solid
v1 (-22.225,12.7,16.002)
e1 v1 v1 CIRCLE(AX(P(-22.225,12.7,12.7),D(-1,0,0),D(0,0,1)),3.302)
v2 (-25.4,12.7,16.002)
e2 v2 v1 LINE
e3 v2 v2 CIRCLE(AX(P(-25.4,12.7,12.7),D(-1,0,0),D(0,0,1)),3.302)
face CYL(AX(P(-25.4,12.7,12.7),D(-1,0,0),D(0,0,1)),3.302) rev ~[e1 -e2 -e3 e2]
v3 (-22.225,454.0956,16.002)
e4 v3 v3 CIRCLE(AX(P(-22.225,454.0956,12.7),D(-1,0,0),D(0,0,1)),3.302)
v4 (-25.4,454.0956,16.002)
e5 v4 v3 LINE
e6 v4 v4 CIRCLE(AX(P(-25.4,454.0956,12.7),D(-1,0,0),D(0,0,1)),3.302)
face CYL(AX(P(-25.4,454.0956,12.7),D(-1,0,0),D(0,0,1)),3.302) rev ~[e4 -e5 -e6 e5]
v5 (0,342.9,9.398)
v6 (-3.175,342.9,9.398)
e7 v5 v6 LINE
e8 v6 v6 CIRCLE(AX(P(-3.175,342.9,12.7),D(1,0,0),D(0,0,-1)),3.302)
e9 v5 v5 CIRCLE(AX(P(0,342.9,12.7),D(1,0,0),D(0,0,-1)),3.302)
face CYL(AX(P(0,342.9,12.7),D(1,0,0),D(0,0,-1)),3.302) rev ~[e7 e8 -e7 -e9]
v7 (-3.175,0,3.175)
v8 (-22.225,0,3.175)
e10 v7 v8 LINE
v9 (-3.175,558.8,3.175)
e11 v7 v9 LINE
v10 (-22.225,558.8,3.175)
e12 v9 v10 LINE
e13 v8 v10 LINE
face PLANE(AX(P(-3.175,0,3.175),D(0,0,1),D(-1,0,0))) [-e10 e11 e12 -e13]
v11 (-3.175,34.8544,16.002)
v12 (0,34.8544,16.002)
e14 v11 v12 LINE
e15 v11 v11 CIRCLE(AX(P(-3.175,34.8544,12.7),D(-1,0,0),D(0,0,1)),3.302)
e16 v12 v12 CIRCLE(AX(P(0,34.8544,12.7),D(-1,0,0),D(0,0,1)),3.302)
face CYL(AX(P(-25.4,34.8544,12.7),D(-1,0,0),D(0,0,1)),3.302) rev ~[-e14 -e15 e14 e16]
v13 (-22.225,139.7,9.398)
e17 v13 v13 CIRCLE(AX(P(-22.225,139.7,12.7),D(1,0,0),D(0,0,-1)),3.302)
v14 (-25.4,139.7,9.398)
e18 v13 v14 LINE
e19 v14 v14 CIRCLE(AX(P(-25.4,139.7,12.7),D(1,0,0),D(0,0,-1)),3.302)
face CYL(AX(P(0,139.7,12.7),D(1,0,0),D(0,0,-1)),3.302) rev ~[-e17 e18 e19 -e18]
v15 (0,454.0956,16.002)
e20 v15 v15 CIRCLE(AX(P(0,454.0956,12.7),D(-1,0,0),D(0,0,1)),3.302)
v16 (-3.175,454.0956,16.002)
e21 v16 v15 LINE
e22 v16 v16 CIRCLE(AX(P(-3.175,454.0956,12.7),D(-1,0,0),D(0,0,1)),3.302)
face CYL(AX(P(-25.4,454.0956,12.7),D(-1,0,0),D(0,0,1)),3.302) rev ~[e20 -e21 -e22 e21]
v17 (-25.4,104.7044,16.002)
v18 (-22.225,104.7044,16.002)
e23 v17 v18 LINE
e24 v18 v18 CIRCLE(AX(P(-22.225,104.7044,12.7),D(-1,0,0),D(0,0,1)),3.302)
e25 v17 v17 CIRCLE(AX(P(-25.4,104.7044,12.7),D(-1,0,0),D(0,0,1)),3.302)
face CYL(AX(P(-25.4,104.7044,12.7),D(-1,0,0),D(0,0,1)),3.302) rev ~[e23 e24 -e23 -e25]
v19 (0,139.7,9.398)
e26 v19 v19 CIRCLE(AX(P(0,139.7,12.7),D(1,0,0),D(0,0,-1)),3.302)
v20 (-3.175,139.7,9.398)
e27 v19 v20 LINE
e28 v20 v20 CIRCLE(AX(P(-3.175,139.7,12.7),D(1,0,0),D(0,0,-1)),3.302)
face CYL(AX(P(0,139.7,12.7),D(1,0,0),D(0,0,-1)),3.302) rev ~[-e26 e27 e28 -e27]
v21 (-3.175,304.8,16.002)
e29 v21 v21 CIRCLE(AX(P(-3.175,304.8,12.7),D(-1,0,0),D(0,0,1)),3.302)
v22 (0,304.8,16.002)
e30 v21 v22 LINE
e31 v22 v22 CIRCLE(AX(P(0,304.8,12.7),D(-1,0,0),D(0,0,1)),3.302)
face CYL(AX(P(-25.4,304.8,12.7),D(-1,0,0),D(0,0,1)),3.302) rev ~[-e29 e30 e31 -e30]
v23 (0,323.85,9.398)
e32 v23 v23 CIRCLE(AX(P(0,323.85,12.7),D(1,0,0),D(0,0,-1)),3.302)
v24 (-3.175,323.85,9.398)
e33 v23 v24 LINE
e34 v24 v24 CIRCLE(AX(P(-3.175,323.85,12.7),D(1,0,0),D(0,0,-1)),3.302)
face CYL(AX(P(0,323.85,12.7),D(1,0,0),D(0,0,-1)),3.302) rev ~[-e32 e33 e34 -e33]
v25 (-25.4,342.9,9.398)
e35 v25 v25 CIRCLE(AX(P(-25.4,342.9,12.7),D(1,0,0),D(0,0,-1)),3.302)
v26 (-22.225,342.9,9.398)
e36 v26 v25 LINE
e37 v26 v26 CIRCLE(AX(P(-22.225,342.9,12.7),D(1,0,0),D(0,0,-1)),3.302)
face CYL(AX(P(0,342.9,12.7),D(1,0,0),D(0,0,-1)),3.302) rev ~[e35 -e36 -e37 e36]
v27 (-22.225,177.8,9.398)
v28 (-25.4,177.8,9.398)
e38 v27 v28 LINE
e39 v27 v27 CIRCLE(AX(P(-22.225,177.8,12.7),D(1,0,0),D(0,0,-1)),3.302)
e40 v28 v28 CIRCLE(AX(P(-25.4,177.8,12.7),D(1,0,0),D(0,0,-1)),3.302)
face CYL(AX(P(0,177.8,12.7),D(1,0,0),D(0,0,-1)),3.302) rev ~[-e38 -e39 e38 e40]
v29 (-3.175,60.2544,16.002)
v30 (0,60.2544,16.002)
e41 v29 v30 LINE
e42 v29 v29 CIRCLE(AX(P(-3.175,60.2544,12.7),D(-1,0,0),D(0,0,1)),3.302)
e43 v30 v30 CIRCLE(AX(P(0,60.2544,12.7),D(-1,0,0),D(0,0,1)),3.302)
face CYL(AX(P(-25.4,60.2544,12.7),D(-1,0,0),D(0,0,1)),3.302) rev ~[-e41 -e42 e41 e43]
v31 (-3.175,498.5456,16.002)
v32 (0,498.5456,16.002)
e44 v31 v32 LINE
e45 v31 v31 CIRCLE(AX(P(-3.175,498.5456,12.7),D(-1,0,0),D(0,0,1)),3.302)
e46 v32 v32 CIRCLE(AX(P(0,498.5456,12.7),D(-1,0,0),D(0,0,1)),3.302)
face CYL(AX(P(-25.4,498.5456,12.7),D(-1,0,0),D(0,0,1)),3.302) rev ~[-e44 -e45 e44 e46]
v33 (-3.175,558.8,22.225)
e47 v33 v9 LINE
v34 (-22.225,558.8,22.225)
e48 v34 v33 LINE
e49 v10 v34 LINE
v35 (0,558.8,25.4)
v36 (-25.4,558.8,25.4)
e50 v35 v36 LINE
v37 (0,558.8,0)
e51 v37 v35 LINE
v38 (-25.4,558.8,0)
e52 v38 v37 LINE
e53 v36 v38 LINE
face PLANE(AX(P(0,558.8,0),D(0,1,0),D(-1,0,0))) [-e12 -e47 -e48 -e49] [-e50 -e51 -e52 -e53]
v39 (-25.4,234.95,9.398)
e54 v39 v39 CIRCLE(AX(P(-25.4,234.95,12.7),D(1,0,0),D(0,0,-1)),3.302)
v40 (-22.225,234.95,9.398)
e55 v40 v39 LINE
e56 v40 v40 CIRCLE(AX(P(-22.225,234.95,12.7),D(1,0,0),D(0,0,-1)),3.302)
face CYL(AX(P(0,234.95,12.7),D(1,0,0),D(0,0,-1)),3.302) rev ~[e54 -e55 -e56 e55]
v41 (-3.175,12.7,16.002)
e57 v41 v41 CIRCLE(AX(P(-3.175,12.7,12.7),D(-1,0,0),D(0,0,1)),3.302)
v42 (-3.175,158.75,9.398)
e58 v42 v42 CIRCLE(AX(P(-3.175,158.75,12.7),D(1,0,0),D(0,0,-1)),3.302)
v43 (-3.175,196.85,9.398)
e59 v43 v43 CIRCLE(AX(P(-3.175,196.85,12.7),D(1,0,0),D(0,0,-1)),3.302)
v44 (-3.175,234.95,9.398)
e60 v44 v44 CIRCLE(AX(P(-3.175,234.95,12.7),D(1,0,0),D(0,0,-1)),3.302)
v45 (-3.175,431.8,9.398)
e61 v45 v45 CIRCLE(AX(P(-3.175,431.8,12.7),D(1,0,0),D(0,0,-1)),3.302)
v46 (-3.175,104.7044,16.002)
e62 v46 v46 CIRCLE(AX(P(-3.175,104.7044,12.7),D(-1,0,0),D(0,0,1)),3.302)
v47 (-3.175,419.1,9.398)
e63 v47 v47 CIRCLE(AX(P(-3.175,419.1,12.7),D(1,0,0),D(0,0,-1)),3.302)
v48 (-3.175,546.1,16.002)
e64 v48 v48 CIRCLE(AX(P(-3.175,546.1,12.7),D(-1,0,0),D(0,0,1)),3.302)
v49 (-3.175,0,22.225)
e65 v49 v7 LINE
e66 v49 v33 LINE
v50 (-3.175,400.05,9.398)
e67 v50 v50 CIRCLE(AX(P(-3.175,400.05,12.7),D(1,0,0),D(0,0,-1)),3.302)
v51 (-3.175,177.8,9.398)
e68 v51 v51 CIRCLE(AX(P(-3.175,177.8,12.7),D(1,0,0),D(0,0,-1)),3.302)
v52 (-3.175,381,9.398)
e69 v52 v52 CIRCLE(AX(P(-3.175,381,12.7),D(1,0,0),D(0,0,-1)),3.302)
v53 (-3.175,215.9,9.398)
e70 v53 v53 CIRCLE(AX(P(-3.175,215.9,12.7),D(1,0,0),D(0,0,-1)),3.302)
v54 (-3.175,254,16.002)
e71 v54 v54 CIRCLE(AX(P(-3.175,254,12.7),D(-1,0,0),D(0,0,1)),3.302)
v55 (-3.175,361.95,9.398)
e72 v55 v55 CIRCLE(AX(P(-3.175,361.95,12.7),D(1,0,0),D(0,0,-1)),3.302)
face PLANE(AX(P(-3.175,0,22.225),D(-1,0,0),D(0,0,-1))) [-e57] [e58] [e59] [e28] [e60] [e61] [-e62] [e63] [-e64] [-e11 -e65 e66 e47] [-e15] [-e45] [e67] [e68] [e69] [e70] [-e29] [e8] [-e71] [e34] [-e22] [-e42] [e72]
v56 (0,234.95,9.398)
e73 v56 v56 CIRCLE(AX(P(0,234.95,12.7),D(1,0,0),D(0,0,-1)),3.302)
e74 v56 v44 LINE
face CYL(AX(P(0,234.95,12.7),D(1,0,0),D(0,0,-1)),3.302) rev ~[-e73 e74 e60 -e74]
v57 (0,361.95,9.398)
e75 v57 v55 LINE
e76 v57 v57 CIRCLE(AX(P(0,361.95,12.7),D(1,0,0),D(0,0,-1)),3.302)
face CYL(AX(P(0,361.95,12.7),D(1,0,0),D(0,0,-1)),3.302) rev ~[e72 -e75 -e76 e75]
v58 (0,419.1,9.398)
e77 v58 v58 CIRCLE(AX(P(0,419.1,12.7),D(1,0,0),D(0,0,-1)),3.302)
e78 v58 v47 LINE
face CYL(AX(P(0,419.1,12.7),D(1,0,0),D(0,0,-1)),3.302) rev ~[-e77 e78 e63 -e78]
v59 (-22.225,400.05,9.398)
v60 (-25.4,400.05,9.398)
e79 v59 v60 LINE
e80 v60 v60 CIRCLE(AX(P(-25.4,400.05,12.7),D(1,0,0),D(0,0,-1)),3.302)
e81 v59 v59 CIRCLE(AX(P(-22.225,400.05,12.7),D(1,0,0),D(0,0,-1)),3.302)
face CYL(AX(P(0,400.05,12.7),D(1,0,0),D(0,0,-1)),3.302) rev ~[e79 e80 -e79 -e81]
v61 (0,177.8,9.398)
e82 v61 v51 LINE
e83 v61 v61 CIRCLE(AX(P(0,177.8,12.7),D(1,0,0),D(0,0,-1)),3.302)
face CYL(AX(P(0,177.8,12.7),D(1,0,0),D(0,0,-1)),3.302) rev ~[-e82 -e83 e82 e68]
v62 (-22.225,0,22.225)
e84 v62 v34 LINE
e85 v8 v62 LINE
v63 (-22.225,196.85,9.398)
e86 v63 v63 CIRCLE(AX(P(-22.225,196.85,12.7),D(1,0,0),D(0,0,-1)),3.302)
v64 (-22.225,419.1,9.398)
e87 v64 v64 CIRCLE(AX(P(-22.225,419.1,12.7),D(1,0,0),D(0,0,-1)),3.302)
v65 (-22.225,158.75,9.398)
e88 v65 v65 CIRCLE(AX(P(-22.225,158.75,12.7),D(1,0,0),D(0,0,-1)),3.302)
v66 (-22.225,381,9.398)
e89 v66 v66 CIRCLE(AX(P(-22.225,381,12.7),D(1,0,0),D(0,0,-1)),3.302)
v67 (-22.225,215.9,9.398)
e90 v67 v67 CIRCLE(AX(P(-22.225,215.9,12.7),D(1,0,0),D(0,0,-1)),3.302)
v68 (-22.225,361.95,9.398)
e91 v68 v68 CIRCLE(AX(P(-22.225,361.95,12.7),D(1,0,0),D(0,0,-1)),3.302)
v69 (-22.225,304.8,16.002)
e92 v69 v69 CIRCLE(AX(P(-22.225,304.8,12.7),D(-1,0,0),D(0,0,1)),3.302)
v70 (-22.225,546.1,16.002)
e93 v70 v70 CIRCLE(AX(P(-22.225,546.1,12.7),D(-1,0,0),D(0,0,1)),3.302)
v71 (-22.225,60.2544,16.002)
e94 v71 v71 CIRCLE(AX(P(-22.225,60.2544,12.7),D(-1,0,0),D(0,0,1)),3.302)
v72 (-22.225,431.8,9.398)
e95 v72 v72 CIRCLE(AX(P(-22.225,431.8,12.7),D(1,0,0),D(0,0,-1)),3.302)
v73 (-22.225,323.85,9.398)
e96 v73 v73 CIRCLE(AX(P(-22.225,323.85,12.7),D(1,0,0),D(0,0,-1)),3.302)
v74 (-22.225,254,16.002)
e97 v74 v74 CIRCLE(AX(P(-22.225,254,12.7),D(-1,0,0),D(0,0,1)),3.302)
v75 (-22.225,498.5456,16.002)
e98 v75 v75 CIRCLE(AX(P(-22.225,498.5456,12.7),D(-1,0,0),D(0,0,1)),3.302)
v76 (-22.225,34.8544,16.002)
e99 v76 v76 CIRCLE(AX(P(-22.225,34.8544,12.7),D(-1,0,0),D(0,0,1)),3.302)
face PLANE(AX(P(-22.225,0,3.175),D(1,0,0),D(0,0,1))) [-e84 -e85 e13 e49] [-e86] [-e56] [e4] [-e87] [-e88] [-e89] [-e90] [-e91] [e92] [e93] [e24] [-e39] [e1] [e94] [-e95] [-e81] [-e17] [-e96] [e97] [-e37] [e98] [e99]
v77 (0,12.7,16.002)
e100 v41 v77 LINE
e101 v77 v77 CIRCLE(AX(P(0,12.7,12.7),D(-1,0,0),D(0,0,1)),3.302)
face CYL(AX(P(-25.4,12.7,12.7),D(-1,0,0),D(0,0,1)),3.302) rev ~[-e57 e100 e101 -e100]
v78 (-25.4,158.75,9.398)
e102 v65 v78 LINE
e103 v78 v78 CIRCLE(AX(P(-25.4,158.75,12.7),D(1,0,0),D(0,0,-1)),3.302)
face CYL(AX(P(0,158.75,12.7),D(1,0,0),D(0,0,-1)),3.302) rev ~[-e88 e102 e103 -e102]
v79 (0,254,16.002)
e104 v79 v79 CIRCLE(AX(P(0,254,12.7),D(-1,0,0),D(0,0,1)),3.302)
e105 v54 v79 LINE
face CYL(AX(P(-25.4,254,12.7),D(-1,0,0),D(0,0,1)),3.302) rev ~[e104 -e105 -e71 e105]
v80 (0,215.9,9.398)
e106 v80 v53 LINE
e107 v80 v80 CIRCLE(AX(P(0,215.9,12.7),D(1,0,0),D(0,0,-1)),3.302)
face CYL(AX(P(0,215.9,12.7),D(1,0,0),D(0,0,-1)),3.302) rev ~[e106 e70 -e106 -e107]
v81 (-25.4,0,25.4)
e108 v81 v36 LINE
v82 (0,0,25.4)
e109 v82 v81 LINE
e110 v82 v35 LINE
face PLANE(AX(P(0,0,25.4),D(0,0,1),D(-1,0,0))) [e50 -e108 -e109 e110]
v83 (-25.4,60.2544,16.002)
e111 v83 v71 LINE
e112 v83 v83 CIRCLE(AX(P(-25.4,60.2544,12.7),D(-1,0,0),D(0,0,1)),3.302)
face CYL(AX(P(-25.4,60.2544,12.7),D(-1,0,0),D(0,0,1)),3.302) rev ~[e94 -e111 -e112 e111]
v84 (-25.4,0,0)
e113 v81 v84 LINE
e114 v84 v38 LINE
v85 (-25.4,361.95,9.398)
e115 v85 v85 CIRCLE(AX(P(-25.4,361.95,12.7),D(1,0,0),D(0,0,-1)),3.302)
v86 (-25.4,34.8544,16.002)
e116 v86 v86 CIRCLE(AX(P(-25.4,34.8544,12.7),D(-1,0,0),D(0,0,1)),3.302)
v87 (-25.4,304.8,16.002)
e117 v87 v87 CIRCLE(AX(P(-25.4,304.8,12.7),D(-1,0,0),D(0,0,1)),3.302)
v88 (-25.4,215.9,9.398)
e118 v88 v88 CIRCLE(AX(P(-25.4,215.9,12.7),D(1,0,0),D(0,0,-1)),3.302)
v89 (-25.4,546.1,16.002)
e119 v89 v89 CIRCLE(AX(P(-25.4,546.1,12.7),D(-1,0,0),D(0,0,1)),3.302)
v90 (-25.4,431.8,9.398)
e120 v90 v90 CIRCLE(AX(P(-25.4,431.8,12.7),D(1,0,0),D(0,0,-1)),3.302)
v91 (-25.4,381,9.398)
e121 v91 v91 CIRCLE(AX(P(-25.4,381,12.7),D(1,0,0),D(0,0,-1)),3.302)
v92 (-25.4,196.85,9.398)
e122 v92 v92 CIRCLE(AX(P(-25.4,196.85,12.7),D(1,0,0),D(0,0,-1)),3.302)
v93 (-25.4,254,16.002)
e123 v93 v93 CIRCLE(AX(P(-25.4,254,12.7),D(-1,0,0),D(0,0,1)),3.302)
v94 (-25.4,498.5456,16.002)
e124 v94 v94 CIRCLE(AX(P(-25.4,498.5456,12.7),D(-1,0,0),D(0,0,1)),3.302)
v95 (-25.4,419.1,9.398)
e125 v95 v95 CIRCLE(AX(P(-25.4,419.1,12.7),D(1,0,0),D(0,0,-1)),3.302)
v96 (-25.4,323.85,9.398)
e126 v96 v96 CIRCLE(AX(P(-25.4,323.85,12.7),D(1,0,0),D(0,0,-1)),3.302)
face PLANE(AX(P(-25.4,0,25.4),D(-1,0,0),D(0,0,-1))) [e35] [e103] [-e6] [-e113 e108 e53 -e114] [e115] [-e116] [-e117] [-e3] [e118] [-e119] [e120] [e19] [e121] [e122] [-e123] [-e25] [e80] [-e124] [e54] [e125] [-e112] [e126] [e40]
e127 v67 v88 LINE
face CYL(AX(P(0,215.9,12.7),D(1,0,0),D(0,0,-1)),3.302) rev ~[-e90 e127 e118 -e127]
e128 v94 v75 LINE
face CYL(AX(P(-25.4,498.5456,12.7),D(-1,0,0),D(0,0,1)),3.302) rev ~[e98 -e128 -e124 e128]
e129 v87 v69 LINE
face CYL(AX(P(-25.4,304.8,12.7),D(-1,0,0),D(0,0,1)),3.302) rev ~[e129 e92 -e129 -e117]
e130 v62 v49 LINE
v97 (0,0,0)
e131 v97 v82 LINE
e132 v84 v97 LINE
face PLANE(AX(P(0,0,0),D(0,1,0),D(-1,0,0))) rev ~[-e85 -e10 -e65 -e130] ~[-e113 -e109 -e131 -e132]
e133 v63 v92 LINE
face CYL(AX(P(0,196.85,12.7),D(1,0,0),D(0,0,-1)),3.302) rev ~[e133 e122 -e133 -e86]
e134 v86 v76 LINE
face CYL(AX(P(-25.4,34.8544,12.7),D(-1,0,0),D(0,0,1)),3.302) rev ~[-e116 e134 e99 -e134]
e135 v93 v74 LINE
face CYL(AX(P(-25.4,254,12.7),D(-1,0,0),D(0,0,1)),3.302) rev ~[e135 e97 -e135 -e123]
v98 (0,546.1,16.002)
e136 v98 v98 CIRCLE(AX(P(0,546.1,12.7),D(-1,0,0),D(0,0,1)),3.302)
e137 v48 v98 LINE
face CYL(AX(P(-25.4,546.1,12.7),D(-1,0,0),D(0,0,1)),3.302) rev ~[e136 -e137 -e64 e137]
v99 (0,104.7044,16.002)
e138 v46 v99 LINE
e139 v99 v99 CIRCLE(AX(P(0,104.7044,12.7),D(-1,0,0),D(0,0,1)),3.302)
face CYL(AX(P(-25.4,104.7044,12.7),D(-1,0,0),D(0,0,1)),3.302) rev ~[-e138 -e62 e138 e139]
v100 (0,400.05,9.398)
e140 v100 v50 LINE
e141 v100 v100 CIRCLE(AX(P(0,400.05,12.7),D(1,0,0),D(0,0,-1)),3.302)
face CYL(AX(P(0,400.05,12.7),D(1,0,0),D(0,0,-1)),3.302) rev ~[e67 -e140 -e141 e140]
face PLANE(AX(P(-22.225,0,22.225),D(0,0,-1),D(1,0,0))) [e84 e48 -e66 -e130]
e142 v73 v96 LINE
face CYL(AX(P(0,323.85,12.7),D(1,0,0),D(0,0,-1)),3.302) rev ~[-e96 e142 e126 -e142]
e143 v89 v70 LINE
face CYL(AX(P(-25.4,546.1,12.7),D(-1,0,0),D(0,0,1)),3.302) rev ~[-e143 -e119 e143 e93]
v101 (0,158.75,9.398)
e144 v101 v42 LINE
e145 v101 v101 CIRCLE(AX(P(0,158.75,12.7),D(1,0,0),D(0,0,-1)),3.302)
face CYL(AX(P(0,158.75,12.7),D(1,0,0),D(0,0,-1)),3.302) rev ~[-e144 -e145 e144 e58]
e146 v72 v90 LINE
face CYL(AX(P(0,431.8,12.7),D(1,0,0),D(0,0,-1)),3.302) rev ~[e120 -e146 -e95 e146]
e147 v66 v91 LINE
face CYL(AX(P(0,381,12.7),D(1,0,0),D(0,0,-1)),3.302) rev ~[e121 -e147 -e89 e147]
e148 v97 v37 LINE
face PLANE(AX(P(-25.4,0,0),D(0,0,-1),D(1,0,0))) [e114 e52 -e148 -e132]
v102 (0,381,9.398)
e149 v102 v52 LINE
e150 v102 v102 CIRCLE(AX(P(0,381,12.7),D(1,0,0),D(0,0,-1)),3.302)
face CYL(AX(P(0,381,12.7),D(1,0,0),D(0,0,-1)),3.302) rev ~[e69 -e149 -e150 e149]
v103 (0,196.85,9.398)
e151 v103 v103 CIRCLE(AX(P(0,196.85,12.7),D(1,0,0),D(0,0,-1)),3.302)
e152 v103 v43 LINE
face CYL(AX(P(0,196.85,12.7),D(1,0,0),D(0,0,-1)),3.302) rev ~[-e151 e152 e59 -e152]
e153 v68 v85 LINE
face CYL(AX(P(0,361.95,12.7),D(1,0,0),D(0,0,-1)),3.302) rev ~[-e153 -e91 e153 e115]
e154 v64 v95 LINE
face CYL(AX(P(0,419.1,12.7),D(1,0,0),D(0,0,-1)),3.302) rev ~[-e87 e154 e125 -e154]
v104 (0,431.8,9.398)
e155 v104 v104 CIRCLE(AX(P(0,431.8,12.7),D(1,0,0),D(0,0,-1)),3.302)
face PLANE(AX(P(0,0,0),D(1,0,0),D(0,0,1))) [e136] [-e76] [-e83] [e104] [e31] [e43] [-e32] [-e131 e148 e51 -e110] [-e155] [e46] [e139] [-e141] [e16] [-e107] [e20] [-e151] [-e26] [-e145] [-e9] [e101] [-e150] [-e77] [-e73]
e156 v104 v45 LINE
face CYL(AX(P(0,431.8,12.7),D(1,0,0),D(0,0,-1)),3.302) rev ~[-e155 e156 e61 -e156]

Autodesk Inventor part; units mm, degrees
ref_plane "YZ Plane" through (0, 0, 0) normal (1, 0, 0) x (0, 1, 0)
ref_plane "XZ Plane" through (0, 0, 0) normal (0, 1, 0) x (-1, 0, 0)
ref_plane "XY Plane" through (0, 0, 0) normal (0, 0, 1) x (1, 0, 0)
sketch "Sketch1" plane through (0, 0, 0) normal (0, 1, 0) x (-1, 0, 0)
  line L0 (0, 25.4) -> (25.4, 25.4)
  line L1 (25.4, 25.4) -> (25.4, 0)
  line L2 (25.4, 0) -> (0, 0)
  line L3 (0, 0) -> (0, 25.4)
  line L4 (22.225, 22.225) -> (3.175, 22.225)
  line L5 (3.175, 22.225) -> (3.175, 3.175)
  line L6 (3.175, 3.175) -> (22.225, 3.175)
  line L7 (22.225, 3.175) -> (22.225, 22.225)
  dimension "d0" = 25.4
  dimension "d1" = 25.4
  dimension "d2" = 3.175
extrude "Extrusion1" add sketch "Sketch1" along normal blind 558.8
sketch "Sketch2" plane through (-25.4, 0, 25.4) normal (0, 0, 1) x (1, 0, 0)
  line L0 (25.4, 0) -> (0, 0) projected
  line L1 (0, 558.8) -> (25.4, 558.8) projected
  line L2 (12.7, 558.8) -> (12.7, 0) construction
  line L3 (12.7, 0) -> (12.7, 13.97) construction
  circle A0 centre (12.7, 13.97) radius 3.302
  circle A1 centre (12.7, 33.6315) radius 3.302
  circle A2 centre (12.7, 53.293) radius 3.302
  circle A3 centre (12.7, 72.9544) radius 3.302
  circle A4 centre (12.7, 92.6159) radius 3.302
  circle A5 centre (12.7, 112.2774) radius 3.302
  circle A6 centre (12.7, 131.9389) radius 3.302
  circle A7 centre (12.7, 151.6004) radius 3.302
  circle A8 centre (12.7, 171.2619) radius 3.302
  circle A9 centre (12.7, 190.9233) radius 3.302
  circle A10 centre (12.7, 210.5848) radius 3.302
  circle A11 centre (12.7, 230.2463) radius 3.302
  circle A12 centre (12.7, 249.9078) radius 3.302
  circle A13 centre (12.7, 269.5693) radius 3.302
  circle A14 centre (12.7, 289.2307) radius 3.302
  circle A15 centre (12.7, 308.8922) radius 3.302
  circle A16 centre (12.7, 328.5537) radius 3.302
  circle A17 centre (12.7, 348.2152) radius 3.302
  circle A18 centre (12.7, 367.8767) radius 3.302
  circle A19 centre (12.7, 387.5381) radius 3.302
  circle A20 centre (12.7, 407.1996) radius 3.302
  circle A21 centre (12.7, 426.8611) radius 3.302
  circle A22 centre (12.7, 446.5226) radius 3.302
  circle A23 centre (12.7, 466.1841) radius 3.302
  circle A24 centre (12.7, 485.8456) radius 3.302
  circle A25 centre (12.7, 505.507) radius 3.302
  circle A26 centre (12.7, 525.1685) radius 3.302
  circle A27 centre (12.7, 544.83) radius 3.302
  dimension "d5" = 13.97
  dimension "d6" = 6.604
  dimension "d7" = 558.8
  dimension "d10" = 19.6615
extrude "Extrusion2" [suppressed]
sketch "Sketch3" plane through (-25.4, 0, 0) normal (-1, 0, 0) x (0, 0, 1)
  line L0 (25.4, 0) -> (25.4, 558.8) projected
  line L1 (0, 0) -> (0, 558.8) projected
  line L2 (0, 210.5848) -> (25.4, 210.5848) construction
  line L3 (12.7, 498.5456) -> (12.7, 454.0956) construction
  line L4 (12.7, 373.6152) -> (12.7, 322.8152) construction
  line L5 (12.7, 232.8098) -> (12.7, 188.3598) construction
  line L6 (12.7, 104.7044) -> (12.7, 60.2544) construction
  circle A0 centre (12.7, 498.5456) radius 3.302
  circle A1 centre (12.7, 454.0956) radius 3.302
  circle A2 centre (12.7, 373.6152) radius 3.302
  circle A3 centre (12.7, 322.8152) radius 3.302
  circle A4 centre (12.7, 232.8098) radius 3.302
  circle A5 centre (12.7, 188.3598) radius 3.302 construction
  circle A6 centre (12.7, 104.7044) radius 3.302
  circle A7 centre (12.7, 60.2544) radius 3.302
  line L7 (0, 279.4) -> (25.4, 279.4) construction
  line L8 (12.7, 304.8) -> (12.7, 254) construction
  circle A8 centre (12.7, 304.8) radius 3.302
  circle A9 centre (12.7, 254) radius 3.302
  line L9 (25.4, 0) -> (0, 0) projected
  line L10 (0, 558.8) -> (25.4, 558.8) projected
  circle A10 centre (12.7, 546.1) radius 3.302
  line L11 (12.7, 546.1) -> (12.7, 558.8) construction
  line L12 (12.7, 0) -> (12.7, 12.7) construction
  circle A11 centre (12.7, 12.7) radius 3.302
  line L13 (0, 82.4794) -> (25.4, 82.4794) construction
  line L14 (0, 476.3206) -> (25.4, 476.3206) construction
  line L15 (12.7, 12.7) -> (12.7, 34.8544) construction
  circle A12 centre (12.7, 34.8544) radius 3.302
  line L16 (0, 13.97) -> (25.4, 13.97) construction
  line L17 (0, 33.6315) -> (25.4, 33.6315) construction
  line L18 (0, 53.293) -> (25.4, 53.293) construction
  line L19 (0, 72.9544) -> (25.4, 72.9544) construction
  line L20 (0, 92.6159) -> (25.4, 92.6159) construction
  line L21 (0, 112.2774) -> (25.4, 112.2774) construction
  line L22 (0, 131.9389) -> (25.4, 131.9389) construction
  line L23 (0, 151.6004) -> (25.4, 151.6004) construction
  line L24 (0, 171.2619) -> (25.4, 171.2619) construction
  line L25 (0, 190.9233) -> (25.4, 190.9233) construction
  line L26 (0, 210.5848) -> (25.4, 210.5848) construction
  line L27 (0, 230.2463) -> (25.4, 230.2463) construction
  line L28 (0, 249.9078) -> (25.4, 249.9078) construction
  line L29 (0, 269.5693) -> (25.4, 269.5693) construction
  line L30 (0, 289.2307) -> (25.4, 289.2307) construction
  line L31 (0, 308.8922) -> (25.4, 308.8922) construction
  line L32 (0, 328.5537) -> (25.4, 328.5537) construction
  line L33 (0, 348.2152) -> (25.4, 348.2152) construction
  line L34 (0, 367.8767) -> (25.4, 367.8767) construction
  line L35 (0, 387.5381) -> (25.4, 387.5381) construction
  line L36 (0, 407.1996) -> (25.4, 407.1996) construction
  line L37 (0, 426.8611) -> (25.4, 426.8611) construction
  line L38 (0, 446.5226) -> (25.4, 446.5226) construction
  line L39 (0, 466.1841) -> (25.4, 466.1841) construction
  line L40 (0, 485.8456) -> (25.4, 485.8456) construction
  line L41 (0, 505.507) -> (25.4, 505.507) construction
  line L42 (0, 525.1685) -> (25.4, 525.1685) construction
  line L43 (0, 544.83) -> (25.4, 544.83) construction
  point P0 (12.7, 279.4)
  point P1 (12.7, 82.4794)
  point P2 (12.7, 476.3206)
  point P3 (12.7, 348.2152)
  point P4 (12.7, 210.5848)
  dimension "d17" = 44.45
  dimension "d18" = 50.8
  dimension "d19" = 44.45
  dimension "d20" = 44.45
  dimension "d21" = 6.604
  dimension "d22" = 6.604
  dimension "d23" = 6.604
  dimension "d24" = 6.604
  dimension "d25" = 6.604
  dimension "d26" = 6.604
  dimension "d27" = 6.604
  dimension "d28" = 6.604
  dimension "d31" = 50.8
  dimension "d32" = 6.604
  dimension "d33" = 6.604
  dimension "d40" = 12.7
  dimension "d41" = 6.604
  dimension "d42" = 12.7
  dimension "d43" = 6.604
  dimension "d64" = 25.4
  dimension "d65" = 6.604
  dimension "d66" = 13.97
  dimension "d67" = 558.8
  dimension "d70" = 19.6615
  dimension "d76" = 9.525
  dimension "d77" = 9.525
extrude "Extrusion3" cut sketch "Sketch3" against normal through all contours A0 | A1 | A6 | A7 | A8 | A9 | A10 | A11 | A12
sketch "Sketch4" plane through (0, 0, 25.4) normal (1, 0, 0) x (0, 0, -1)
  circle A0 centre (12.7, 304.8) radius 3.302 construction
  circle A1 centre (12.7, 254) radius 3.302 construction
  line L0 (0, 0) -> (0, 558.8) projected
  line L1 (12.7, 304.8) -> (12.7, 323.85) construction
  line L2 (12.7, 254) -> (12.7, 234.95) construction
  circle A2 centre (12.7, 323.85) radius 3.302
  circle A3 centre (12.7, 234.95) radius 3.302
  line L3 (25.4, 0) -> (0, 0) projected
  line L4 (0, 558.8) -> (25.4, 558.8) projected
  line L5 (12.7, 558.8) -> (12.7, 0) construction
  circle A4 centre (12.7, 419.1) radius 3.302
  circle A5 centre (12.7, 400.05) radius 3.302
  circle A6 centre (12.7, 381) radius 3.302
  circle A7 centre (12.7, 361.95) radius 3.302
  circle A8 centre (12.7, 342.9) radius 3.302
  circle A9 centre (12.7, 431.8) radius 3.302
  circle A10 centre (12.7, 215.9) radius 3.302
  circle A11 centre (12.7, 196.85) radius 3.302
  circle A12 centre (12.7, 177.8) radius 3.302
  circle A13 centre (12.7, 158.75) radius 3.302
  circle A14 centre (12.7, 139.7) radius 3.302
  dimension "d46" = 19.05
  dimension "d47" = 19.05
  dimension "d48" = 6.604
  dimension "d49" = 6.604
  dimension "d52" = 6.604
  dimension "d53" = 139.7
  dimension "d80" = 19.05
  dimension "d85" = 12.7
  dimension "d88" = 19.05
extrude "Extrusion4" cut sketch "Sketch4" against normal blind 25.4
equation "\"d19\" = d17"
equation "\"d20\" = d17"
equation "\"d22\" = d21"
equation "\"d23\" = d21"
equation "\"d24\" = d21"
equation "\"d25\" = d21"
equation "\"d26\" = d21"
equation "\"d27\" = d21"
equation "\"d28\" = d21"
equation "\"d31\" = d18"
equation "\"d32\" = d21"
equation "\"d33\" = d21"
equation "\"d41\" = d21"
equation "\"d42\" = d40"
equation "\"d43\" = d21"
equation "\"d70\" = -0.0740741 * d66 + 0.037037 * d67"
equation "\"d76\" = d77"
properties part number "Chassis V1.500 Part4" material "Aluminum 6061"
